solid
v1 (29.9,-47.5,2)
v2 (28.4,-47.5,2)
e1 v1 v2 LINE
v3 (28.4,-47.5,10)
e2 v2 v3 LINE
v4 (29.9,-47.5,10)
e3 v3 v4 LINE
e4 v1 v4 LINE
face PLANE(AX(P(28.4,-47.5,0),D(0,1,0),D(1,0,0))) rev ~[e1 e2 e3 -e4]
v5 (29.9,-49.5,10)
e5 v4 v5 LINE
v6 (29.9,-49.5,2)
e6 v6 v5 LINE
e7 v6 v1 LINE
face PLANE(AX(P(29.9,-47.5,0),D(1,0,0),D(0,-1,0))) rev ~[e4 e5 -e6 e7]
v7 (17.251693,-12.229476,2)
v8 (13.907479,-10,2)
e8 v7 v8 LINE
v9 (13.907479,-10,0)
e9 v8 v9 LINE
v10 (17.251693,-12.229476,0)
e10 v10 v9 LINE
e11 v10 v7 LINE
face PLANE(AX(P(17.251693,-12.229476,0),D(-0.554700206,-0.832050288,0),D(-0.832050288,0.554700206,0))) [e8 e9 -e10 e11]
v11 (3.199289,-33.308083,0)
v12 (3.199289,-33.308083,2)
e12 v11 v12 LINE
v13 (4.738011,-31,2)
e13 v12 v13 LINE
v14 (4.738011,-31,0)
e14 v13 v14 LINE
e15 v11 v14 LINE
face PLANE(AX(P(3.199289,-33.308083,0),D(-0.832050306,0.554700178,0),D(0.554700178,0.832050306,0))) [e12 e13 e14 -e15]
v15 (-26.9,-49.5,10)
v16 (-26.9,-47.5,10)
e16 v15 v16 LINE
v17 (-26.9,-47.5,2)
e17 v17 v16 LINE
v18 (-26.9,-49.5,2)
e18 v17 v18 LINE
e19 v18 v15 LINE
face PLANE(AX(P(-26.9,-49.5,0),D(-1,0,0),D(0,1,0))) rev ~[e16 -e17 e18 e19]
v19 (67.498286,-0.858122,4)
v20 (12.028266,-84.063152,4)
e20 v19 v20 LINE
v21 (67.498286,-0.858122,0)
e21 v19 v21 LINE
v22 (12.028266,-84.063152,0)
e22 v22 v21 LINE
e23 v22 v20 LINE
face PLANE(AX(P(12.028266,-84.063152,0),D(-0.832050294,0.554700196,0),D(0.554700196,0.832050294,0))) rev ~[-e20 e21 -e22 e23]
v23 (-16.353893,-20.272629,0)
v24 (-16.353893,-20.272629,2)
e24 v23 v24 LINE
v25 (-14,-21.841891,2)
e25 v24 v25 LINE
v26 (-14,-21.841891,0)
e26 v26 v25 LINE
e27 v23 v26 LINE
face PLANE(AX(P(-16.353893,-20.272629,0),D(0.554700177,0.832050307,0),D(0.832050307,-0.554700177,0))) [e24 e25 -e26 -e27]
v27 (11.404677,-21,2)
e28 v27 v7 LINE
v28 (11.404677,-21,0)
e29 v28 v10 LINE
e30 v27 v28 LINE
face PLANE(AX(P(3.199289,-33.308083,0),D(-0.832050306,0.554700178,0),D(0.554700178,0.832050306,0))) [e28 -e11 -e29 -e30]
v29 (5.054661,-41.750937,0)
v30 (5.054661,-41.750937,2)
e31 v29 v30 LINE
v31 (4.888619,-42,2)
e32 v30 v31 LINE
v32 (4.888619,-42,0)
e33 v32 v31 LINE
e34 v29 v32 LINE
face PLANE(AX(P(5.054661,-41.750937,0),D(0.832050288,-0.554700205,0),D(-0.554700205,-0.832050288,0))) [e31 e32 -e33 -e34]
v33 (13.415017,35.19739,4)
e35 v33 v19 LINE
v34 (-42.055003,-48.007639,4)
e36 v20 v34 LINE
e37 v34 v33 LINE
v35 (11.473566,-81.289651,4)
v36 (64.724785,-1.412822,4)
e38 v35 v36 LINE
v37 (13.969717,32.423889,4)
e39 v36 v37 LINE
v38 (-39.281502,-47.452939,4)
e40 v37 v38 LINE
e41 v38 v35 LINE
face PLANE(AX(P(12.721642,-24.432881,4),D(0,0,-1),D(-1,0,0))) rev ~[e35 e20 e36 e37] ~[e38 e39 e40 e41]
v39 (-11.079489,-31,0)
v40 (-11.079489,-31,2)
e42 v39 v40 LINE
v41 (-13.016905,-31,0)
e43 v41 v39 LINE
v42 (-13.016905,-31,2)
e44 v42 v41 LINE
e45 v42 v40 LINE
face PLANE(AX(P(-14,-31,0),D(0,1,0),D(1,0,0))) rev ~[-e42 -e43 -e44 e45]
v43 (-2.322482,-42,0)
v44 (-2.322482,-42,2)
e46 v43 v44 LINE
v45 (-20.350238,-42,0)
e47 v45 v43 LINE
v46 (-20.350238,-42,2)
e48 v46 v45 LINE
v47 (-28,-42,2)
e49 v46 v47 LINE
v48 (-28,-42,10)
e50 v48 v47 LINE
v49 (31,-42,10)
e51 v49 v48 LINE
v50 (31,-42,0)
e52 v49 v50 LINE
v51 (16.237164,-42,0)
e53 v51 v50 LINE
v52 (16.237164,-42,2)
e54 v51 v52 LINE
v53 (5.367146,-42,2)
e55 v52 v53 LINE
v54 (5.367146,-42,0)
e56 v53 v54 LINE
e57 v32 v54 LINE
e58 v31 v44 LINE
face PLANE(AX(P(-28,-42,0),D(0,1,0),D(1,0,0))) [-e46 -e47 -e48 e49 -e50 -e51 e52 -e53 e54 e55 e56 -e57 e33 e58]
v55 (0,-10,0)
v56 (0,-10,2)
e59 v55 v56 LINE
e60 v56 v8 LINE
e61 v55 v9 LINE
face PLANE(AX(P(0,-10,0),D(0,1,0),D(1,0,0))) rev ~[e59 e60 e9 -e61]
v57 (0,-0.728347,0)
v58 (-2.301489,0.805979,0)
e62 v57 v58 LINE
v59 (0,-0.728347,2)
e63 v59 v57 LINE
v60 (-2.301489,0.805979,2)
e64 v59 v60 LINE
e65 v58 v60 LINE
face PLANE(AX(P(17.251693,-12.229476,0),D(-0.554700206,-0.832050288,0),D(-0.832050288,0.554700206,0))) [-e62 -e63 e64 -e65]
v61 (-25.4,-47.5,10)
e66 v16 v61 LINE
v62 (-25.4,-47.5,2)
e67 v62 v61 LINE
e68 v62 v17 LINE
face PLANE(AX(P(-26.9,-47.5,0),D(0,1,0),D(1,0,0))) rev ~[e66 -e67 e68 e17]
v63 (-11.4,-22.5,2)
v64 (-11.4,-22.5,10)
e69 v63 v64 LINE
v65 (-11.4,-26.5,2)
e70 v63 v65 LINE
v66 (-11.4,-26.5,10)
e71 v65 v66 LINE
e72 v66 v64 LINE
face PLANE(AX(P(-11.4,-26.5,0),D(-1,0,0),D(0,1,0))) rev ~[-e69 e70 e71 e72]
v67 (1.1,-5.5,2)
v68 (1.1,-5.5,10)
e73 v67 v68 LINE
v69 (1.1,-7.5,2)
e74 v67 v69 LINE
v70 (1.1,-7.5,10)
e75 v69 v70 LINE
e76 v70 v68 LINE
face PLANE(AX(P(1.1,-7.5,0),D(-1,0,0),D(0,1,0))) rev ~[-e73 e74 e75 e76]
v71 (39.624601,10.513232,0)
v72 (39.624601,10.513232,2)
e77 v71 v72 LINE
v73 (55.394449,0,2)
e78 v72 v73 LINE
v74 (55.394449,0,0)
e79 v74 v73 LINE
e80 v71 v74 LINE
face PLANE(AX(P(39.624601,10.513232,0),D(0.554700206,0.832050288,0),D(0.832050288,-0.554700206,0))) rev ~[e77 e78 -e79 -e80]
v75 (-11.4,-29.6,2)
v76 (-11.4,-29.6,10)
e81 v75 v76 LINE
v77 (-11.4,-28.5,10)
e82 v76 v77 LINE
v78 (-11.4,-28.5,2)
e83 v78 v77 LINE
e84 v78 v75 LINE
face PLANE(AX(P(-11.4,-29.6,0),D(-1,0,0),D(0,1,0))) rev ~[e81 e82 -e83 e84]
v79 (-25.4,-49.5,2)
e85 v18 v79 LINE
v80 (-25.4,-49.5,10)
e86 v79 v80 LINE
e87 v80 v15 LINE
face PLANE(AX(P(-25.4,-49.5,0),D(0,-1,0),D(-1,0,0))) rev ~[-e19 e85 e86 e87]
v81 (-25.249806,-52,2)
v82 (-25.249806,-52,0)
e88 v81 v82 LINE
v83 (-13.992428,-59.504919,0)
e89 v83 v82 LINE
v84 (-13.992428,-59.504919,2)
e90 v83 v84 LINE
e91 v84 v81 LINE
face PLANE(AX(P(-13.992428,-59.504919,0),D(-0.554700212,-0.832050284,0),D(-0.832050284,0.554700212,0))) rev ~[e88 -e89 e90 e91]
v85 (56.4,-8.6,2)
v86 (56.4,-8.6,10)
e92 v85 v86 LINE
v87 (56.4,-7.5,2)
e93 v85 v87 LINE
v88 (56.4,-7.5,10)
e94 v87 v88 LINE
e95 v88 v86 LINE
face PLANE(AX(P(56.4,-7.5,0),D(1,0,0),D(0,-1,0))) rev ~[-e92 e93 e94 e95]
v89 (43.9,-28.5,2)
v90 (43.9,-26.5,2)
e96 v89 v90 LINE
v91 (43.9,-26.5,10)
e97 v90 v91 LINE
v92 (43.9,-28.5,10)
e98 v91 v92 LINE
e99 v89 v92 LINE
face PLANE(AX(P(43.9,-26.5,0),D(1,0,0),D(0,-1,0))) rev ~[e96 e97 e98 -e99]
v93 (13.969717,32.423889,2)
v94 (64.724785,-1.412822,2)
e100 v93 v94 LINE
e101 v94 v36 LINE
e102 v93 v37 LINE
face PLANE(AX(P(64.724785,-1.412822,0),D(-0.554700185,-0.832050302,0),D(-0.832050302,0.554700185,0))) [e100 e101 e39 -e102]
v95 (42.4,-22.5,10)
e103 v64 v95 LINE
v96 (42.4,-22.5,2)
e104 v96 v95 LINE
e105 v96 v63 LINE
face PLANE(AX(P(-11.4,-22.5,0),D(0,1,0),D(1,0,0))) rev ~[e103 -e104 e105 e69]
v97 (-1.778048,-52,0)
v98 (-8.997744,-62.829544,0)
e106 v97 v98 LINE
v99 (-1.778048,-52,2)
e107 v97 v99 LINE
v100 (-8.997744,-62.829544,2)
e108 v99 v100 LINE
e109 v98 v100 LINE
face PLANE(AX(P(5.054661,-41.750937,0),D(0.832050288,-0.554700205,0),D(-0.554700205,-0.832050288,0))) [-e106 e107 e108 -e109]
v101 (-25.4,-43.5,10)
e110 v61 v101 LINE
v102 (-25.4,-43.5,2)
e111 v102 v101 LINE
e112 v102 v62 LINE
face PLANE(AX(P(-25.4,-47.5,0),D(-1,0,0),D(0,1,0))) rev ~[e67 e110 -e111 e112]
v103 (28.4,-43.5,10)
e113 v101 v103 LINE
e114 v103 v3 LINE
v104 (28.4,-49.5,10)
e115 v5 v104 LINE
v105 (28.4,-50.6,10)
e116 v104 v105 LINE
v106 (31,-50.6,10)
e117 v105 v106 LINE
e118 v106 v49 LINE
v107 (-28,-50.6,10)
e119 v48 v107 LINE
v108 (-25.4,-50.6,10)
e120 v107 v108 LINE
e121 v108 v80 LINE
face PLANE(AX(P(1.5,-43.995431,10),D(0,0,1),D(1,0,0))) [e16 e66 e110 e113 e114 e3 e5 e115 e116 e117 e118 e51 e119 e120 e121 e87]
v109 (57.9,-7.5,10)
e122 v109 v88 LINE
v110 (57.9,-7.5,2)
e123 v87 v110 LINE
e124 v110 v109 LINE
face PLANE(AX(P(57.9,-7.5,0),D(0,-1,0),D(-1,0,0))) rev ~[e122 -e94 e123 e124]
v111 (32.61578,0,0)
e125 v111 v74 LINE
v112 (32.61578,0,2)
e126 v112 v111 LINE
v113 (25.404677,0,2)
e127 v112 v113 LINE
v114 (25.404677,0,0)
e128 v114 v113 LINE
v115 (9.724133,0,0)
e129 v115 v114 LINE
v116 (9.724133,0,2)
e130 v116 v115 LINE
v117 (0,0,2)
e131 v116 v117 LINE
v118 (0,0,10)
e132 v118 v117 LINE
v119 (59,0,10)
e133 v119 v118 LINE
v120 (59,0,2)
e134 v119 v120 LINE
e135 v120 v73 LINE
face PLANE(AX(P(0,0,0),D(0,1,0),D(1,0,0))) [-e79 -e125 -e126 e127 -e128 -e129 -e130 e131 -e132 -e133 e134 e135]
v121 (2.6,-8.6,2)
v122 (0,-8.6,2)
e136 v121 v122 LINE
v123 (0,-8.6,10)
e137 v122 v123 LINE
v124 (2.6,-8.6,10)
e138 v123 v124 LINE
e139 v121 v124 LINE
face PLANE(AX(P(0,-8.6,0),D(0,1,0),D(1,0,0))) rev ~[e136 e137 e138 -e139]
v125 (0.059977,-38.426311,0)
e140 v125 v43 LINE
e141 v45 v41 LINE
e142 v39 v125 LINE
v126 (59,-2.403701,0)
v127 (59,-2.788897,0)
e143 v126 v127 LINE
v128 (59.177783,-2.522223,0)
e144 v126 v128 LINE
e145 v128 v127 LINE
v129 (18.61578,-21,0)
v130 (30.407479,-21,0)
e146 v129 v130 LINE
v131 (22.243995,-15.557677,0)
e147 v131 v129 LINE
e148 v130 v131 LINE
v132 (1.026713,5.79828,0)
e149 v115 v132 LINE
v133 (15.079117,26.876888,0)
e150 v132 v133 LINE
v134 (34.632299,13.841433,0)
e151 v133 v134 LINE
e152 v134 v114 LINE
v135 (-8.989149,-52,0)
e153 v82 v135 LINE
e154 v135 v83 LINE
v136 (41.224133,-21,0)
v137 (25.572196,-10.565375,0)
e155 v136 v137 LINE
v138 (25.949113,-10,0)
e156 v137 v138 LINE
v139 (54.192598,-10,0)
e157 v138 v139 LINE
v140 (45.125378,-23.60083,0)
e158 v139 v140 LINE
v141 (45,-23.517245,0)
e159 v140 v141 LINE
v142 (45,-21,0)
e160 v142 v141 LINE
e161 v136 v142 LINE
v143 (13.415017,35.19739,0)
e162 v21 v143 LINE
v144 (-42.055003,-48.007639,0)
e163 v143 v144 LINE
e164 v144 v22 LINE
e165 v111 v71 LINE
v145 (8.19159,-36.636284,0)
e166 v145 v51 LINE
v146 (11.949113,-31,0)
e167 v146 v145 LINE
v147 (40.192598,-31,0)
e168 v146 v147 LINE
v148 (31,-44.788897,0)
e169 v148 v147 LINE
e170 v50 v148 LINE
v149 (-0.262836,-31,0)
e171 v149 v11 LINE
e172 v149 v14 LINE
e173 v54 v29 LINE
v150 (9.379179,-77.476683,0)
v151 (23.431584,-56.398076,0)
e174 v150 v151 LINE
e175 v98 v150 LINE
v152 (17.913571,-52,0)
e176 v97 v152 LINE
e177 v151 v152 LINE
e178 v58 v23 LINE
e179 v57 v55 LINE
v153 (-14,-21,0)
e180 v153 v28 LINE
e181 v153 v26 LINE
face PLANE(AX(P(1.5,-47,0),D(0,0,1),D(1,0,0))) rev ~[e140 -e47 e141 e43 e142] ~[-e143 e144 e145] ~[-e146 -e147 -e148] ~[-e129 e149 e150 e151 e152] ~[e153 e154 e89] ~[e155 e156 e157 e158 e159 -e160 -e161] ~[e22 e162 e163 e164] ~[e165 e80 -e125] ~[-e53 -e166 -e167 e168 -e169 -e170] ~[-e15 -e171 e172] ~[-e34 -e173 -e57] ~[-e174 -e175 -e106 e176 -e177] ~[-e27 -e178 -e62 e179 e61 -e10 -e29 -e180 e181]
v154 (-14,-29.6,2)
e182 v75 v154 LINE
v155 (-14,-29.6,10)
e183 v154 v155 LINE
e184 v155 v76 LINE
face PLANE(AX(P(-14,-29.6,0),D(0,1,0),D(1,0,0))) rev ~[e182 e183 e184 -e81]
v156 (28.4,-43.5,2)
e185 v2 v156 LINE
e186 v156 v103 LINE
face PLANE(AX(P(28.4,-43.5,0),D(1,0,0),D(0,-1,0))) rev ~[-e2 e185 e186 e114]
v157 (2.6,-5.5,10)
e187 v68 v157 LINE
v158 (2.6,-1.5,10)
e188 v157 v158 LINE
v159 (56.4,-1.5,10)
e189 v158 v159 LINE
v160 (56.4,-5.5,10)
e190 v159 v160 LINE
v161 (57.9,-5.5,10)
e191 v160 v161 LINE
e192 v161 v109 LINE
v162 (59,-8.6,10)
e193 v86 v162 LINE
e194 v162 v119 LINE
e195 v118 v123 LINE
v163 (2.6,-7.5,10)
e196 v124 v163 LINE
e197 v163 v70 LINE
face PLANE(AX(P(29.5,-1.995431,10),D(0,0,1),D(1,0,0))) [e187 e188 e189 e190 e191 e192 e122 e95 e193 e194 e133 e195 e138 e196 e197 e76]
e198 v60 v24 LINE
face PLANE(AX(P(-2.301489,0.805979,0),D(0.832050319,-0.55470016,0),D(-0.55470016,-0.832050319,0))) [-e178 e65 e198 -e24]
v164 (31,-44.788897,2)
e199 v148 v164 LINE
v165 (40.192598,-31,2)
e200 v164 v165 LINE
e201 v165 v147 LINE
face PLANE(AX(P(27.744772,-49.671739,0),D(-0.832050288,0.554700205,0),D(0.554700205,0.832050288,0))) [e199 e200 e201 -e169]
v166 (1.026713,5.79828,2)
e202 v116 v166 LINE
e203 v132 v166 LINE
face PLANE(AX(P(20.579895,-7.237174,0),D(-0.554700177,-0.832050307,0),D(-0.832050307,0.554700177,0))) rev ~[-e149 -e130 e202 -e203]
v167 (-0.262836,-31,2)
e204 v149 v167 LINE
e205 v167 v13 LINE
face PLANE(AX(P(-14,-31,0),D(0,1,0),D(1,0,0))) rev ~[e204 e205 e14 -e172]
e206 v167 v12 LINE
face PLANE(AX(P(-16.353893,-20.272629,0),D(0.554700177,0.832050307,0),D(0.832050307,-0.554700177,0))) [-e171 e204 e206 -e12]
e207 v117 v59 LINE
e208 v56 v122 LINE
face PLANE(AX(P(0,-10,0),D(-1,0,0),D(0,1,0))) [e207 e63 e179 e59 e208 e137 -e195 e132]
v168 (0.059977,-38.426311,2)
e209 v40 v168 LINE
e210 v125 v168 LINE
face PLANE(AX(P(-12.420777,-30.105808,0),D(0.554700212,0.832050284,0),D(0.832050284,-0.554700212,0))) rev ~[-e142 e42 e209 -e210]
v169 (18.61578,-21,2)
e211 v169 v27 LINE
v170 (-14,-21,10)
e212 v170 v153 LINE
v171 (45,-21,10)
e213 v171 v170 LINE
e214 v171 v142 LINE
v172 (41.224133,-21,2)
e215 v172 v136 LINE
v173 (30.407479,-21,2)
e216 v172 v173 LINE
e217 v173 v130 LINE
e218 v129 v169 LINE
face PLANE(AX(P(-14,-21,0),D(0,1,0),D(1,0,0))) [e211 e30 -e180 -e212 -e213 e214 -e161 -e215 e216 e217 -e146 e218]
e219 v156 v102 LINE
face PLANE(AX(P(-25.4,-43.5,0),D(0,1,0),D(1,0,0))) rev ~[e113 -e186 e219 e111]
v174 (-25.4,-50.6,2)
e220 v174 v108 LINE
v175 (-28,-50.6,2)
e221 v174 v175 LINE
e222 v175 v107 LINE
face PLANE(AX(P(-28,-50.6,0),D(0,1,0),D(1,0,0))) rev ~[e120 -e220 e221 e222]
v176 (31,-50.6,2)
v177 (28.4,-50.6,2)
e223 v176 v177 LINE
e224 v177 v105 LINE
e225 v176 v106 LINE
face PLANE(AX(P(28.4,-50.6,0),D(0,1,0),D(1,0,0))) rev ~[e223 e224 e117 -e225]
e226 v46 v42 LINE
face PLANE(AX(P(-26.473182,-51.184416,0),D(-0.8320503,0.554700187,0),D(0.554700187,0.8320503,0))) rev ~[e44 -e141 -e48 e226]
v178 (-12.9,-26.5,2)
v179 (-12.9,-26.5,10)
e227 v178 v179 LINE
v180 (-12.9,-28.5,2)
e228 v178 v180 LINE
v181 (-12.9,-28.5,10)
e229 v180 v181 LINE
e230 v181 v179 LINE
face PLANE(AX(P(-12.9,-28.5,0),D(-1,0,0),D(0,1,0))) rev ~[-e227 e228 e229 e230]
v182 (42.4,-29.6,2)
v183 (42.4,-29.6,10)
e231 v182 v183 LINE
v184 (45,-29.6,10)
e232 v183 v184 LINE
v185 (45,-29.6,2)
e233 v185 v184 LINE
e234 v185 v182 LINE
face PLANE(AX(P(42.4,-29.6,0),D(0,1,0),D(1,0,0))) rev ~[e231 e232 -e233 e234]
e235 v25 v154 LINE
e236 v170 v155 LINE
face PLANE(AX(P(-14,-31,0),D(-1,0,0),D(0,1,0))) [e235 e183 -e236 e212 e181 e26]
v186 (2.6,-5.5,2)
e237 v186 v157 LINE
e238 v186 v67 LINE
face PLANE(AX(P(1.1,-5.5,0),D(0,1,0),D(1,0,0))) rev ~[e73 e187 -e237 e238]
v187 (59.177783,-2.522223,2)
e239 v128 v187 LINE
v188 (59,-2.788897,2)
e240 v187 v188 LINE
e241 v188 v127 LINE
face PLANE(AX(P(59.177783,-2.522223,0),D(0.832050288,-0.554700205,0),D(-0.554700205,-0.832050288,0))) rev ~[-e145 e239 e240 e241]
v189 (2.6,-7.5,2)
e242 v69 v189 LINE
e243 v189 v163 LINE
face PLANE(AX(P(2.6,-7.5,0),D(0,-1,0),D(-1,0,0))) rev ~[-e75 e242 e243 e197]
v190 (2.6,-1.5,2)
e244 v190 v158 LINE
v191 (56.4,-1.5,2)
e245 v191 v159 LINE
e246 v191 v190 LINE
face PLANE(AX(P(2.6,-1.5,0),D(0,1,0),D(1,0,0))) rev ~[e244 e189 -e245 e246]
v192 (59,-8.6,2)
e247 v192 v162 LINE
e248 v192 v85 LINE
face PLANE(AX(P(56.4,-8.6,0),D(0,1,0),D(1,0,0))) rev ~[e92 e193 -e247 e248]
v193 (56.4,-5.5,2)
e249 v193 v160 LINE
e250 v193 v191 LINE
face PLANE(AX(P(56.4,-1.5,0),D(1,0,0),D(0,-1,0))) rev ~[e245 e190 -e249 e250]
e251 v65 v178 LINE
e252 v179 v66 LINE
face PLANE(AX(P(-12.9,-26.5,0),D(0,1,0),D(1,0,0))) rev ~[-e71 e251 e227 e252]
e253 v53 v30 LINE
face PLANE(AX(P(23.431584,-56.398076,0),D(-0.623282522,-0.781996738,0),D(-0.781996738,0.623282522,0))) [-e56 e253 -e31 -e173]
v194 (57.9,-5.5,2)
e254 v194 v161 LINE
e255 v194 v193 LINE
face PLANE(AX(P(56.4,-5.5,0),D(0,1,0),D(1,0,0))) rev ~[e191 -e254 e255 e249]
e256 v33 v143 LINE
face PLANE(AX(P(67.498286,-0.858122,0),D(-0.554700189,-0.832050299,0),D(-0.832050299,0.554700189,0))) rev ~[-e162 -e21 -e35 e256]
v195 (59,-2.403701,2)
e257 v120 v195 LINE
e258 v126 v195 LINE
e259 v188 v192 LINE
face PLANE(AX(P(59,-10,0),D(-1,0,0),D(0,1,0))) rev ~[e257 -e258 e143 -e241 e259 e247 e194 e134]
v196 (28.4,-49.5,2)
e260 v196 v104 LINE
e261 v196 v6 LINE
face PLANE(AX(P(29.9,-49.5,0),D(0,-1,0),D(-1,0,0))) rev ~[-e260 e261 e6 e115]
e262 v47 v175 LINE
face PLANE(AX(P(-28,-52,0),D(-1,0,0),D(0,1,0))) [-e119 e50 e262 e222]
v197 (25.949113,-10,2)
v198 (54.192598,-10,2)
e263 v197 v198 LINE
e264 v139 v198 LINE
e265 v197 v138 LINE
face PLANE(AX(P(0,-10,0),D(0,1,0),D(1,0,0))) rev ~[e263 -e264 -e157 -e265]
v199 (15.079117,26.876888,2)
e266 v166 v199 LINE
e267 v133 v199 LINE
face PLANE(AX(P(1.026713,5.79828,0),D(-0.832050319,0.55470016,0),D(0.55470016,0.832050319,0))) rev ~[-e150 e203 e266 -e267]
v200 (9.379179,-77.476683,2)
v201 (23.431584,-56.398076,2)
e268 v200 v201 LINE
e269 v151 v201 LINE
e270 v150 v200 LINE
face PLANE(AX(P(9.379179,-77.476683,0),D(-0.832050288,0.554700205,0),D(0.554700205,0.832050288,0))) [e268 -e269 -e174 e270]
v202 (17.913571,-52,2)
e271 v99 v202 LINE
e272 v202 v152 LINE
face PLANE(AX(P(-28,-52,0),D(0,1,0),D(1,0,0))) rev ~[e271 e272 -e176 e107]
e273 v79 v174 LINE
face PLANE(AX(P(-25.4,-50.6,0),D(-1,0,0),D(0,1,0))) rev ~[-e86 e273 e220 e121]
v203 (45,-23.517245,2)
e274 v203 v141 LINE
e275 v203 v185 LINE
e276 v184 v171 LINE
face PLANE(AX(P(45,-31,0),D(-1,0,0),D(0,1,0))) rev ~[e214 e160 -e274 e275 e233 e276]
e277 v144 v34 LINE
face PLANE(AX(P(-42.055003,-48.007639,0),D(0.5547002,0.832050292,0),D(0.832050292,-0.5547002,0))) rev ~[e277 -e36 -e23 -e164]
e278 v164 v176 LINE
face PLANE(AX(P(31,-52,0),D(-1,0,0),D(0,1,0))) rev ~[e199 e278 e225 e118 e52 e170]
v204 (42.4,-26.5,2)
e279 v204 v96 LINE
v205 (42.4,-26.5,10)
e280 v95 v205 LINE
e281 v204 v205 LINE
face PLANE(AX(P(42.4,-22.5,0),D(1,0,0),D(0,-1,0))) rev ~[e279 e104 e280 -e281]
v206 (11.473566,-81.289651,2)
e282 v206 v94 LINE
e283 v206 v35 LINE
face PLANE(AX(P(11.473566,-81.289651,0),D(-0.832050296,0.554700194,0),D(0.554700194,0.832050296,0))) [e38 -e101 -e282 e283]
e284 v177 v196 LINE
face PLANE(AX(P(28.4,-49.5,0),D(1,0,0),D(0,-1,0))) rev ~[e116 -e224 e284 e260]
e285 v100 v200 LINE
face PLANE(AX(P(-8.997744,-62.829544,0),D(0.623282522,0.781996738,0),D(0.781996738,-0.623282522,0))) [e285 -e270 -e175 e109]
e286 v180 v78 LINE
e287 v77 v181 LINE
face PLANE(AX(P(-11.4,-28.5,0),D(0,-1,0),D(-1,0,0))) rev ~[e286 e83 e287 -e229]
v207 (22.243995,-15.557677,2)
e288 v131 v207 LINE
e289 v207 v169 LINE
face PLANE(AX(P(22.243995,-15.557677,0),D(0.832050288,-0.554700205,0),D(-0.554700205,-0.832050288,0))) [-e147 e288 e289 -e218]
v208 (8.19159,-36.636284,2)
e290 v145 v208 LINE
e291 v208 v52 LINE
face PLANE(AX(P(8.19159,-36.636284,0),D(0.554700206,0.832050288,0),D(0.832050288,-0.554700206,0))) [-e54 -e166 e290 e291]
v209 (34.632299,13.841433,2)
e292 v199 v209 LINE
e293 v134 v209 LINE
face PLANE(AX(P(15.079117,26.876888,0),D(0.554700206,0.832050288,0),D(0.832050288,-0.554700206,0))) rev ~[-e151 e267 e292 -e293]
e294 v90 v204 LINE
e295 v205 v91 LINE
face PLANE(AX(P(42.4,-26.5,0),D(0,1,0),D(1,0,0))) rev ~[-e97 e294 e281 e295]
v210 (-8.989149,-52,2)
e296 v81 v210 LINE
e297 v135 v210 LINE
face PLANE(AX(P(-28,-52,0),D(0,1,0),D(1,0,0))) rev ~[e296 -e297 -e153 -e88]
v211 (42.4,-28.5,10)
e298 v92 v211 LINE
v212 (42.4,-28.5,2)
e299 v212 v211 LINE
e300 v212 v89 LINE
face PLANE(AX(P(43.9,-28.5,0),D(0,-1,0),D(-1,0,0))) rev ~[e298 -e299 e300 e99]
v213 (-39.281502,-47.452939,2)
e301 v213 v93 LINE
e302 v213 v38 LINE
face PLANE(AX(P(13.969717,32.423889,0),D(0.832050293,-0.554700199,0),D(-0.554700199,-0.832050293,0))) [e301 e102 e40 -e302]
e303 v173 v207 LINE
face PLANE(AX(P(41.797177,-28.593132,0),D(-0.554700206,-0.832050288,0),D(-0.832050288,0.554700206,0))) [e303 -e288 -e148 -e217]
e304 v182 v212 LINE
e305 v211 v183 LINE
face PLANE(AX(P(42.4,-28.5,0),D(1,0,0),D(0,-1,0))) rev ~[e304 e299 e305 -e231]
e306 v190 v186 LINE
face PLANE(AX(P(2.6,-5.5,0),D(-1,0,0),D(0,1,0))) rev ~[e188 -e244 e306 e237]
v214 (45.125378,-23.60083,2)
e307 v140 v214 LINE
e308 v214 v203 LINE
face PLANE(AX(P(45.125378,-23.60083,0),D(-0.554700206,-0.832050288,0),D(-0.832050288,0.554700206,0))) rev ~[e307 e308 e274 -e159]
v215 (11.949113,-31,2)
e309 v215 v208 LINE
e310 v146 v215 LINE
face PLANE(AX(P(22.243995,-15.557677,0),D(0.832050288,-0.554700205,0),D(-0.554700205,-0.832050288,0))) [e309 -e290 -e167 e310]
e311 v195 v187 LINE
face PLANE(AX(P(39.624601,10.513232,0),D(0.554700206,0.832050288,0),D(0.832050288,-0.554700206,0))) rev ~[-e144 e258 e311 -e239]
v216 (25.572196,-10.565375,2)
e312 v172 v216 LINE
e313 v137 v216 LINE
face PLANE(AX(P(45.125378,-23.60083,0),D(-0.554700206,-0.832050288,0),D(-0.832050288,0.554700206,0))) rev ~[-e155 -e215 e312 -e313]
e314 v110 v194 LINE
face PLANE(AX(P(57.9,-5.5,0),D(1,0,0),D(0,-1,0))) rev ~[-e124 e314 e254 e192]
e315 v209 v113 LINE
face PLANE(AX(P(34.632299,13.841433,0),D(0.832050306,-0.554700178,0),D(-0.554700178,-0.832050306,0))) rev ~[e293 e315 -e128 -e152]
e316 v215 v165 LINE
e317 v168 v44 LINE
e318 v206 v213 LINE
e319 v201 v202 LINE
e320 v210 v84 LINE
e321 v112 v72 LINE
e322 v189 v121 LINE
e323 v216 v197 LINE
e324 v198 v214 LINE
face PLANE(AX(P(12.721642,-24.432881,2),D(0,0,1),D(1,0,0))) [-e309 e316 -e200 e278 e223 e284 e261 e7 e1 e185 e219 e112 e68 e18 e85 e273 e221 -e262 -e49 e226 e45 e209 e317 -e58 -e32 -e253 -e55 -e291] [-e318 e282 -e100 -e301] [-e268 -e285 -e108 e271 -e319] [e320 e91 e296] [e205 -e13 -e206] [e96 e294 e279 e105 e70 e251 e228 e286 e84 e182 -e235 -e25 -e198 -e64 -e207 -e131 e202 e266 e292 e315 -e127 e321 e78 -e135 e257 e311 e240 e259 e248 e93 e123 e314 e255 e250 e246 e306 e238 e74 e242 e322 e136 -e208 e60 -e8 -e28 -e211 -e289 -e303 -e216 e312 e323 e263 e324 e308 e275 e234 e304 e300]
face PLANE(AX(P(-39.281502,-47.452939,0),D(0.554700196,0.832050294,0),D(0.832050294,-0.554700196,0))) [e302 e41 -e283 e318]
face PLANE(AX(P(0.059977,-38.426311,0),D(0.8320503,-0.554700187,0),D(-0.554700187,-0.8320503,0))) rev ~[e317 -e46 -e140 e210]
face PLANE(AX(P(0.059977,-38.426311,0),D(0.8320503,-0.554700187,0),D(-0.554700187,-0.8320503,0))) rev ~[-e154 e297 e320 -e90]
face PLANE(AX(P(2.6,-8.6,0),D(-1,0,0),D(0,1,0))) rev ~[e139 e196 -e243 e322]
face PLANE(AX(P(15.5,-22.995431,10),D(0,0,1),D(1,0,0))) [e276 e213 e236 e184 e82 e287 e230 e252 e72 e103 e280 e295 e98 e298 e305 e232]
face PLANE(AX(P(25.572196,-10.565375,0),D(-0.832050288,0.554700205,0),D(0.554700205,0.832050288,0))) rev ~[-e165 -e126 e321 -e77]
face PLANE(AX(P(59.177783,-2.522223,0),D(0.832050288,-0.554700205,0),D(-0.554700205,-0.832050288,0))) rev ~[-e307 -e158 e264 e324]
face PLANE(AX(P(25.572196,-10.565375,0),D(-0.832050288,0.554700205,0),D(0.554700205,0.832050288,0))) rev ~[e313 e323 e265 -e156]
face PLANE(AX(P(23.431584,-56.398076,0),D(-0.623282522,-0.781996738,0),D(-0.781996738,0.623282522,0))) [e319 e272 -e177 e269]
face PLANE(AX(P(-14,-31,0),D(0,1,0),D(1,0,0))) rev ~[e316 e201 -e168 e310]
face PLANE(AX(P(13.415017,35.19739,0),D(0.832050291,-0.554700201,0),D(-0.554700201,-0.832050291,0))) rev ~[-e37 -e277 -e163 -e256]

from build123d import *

# Parameters (mm, degrees)
PAD002_DEPTH = 4
PAD001_DEPTH = 10
SKETCH_W     = 59
SKETCH_H     = 10
PAD_DEPTH    = 2
PAD003_DEPTH = 2


with BuildPart() as pad002:
    # Sketch002 → Pad002 (new body)
    with BuildSketch(Plane.XY):
        Polygon((13.415017, 35.19739), (67.498286, -0.858122), (12.028266, -84.063152), (-42.055003, -48.007639), align=None)
        Polygon((13.969717, 32.423889), (-39.281502, -47.452939), (11.473566, -81.289651), (64.724785, -1.412822), align=None, mode=Mode.SUBTRACT)
    extrude(amount=PAD002_DEPTH)


with BuildPart() as pad001:
    # Sketch001 → Pad001 (new body)
    with BuildSketch(Plane.XY):
        Polygon((0, 0), (0, -8.6), (2.6, -8.6), (2.6, -7.5), (1.1, -7.5), (1.1, -5.5), (2.6, -5.5), (2.6, -1.5), (56.4, -1.5), (56.4, -5.5), (57.9, -5.5), (57.9, -7.5), (56.4, -7.5), (56.4, -8.6), (59, -8.6), (59, 0), align=None)
    extrude(amount=PAD001_DEPTH)


with BuildPart() as pad:
    # Sketch → Pad (new body)
    with BuildSketch(Plane.XY):
        with Locations((29.5, -5)):
            Rectangle(SKETCH_W, SKETCH_H)
    extrude(amount=PAD_DEPTH)


with BuildPart() as relay002:
    # Fusion001 base: copy of Pad
    add(pad.part)

    # Fusion001: union Pad001
    add(pad001.part)


with BuildPart() as relay002_1:
    # Fusion001 placement: moved
    add(relay002.part.moved(Location((-14, -21, 0))))


with BuildPart() as relay001:
    # Fusion base: copy of Pad
    add(pad.part)

    # Fusion: union Pad001
    add(pad001.part)


with BuildPart() as relay003:
    # Fusion002 base: copy of Pad
    add(pad.part)

    # Fusion002: union Pad001
    add(pad001.part)


with BuildPart() as relay003_1:
    # Fusion002 placement: moved
    add(relay003.part.moved(Location((-28, -42, 0))))


with BuildPart() as fusion003:
    # Sketch003 → Pad003 (new body)
    with BuildSketch(Plane.XY):
        Polygon((13.415017, 35.19739), (-42.055003, -48.007639), (12.028266, -84.063152), (67.498286, -0.858122), align=None)
        Polygon((15.079117, 26.876888), (34.632299, 13.841433), (20.579895, -7.237174), (1.026713, 5.79828), align=None, mode=Mode.SUBTRACT)
        Polygon((39.624601, 10.513232), (59.177783, -2.522223), (45.125378, -23.60083), (25.572196, -10.565375), align=None, mode=Mode.SUBTRACT)
        Polygon((-2.301489, 0.805979), (-16.353893, -20.272629), (3.199289, -33.308083), (17.251693, -12.229476), align=None, mode=Mode.SUBTRACT)
        Polygon((22.243995, -15.557677), (8.19159, -36.636284), (27.744772, -49.671739), (41.797177, -28.593132), align=None, mode=Mode.SUBTRACT)
        Polygon((0.059977, -38.426311), (-13.992428, -59.504919), (-26.473182, -51.184416), (-12.420777, -30.105808), align=None, mode=Mode.SUBTRACT)
        Polygon((5.054661, -41.750937), (-8.997744, -62.829544), (9.379179, -77.476683), (23.431584, -56.398076), align=None, mode=Mode.SUBTRACT)
    extrude(amount=PAD003_DEPTH)

    # Fusion003: union Pad002, Relay002, Relay001, Relay003
    add(pad002.part)
    add(relay002_1.part)
    add(relay001.part)
    add(relay003_1.part)


solid = fusion003.part
